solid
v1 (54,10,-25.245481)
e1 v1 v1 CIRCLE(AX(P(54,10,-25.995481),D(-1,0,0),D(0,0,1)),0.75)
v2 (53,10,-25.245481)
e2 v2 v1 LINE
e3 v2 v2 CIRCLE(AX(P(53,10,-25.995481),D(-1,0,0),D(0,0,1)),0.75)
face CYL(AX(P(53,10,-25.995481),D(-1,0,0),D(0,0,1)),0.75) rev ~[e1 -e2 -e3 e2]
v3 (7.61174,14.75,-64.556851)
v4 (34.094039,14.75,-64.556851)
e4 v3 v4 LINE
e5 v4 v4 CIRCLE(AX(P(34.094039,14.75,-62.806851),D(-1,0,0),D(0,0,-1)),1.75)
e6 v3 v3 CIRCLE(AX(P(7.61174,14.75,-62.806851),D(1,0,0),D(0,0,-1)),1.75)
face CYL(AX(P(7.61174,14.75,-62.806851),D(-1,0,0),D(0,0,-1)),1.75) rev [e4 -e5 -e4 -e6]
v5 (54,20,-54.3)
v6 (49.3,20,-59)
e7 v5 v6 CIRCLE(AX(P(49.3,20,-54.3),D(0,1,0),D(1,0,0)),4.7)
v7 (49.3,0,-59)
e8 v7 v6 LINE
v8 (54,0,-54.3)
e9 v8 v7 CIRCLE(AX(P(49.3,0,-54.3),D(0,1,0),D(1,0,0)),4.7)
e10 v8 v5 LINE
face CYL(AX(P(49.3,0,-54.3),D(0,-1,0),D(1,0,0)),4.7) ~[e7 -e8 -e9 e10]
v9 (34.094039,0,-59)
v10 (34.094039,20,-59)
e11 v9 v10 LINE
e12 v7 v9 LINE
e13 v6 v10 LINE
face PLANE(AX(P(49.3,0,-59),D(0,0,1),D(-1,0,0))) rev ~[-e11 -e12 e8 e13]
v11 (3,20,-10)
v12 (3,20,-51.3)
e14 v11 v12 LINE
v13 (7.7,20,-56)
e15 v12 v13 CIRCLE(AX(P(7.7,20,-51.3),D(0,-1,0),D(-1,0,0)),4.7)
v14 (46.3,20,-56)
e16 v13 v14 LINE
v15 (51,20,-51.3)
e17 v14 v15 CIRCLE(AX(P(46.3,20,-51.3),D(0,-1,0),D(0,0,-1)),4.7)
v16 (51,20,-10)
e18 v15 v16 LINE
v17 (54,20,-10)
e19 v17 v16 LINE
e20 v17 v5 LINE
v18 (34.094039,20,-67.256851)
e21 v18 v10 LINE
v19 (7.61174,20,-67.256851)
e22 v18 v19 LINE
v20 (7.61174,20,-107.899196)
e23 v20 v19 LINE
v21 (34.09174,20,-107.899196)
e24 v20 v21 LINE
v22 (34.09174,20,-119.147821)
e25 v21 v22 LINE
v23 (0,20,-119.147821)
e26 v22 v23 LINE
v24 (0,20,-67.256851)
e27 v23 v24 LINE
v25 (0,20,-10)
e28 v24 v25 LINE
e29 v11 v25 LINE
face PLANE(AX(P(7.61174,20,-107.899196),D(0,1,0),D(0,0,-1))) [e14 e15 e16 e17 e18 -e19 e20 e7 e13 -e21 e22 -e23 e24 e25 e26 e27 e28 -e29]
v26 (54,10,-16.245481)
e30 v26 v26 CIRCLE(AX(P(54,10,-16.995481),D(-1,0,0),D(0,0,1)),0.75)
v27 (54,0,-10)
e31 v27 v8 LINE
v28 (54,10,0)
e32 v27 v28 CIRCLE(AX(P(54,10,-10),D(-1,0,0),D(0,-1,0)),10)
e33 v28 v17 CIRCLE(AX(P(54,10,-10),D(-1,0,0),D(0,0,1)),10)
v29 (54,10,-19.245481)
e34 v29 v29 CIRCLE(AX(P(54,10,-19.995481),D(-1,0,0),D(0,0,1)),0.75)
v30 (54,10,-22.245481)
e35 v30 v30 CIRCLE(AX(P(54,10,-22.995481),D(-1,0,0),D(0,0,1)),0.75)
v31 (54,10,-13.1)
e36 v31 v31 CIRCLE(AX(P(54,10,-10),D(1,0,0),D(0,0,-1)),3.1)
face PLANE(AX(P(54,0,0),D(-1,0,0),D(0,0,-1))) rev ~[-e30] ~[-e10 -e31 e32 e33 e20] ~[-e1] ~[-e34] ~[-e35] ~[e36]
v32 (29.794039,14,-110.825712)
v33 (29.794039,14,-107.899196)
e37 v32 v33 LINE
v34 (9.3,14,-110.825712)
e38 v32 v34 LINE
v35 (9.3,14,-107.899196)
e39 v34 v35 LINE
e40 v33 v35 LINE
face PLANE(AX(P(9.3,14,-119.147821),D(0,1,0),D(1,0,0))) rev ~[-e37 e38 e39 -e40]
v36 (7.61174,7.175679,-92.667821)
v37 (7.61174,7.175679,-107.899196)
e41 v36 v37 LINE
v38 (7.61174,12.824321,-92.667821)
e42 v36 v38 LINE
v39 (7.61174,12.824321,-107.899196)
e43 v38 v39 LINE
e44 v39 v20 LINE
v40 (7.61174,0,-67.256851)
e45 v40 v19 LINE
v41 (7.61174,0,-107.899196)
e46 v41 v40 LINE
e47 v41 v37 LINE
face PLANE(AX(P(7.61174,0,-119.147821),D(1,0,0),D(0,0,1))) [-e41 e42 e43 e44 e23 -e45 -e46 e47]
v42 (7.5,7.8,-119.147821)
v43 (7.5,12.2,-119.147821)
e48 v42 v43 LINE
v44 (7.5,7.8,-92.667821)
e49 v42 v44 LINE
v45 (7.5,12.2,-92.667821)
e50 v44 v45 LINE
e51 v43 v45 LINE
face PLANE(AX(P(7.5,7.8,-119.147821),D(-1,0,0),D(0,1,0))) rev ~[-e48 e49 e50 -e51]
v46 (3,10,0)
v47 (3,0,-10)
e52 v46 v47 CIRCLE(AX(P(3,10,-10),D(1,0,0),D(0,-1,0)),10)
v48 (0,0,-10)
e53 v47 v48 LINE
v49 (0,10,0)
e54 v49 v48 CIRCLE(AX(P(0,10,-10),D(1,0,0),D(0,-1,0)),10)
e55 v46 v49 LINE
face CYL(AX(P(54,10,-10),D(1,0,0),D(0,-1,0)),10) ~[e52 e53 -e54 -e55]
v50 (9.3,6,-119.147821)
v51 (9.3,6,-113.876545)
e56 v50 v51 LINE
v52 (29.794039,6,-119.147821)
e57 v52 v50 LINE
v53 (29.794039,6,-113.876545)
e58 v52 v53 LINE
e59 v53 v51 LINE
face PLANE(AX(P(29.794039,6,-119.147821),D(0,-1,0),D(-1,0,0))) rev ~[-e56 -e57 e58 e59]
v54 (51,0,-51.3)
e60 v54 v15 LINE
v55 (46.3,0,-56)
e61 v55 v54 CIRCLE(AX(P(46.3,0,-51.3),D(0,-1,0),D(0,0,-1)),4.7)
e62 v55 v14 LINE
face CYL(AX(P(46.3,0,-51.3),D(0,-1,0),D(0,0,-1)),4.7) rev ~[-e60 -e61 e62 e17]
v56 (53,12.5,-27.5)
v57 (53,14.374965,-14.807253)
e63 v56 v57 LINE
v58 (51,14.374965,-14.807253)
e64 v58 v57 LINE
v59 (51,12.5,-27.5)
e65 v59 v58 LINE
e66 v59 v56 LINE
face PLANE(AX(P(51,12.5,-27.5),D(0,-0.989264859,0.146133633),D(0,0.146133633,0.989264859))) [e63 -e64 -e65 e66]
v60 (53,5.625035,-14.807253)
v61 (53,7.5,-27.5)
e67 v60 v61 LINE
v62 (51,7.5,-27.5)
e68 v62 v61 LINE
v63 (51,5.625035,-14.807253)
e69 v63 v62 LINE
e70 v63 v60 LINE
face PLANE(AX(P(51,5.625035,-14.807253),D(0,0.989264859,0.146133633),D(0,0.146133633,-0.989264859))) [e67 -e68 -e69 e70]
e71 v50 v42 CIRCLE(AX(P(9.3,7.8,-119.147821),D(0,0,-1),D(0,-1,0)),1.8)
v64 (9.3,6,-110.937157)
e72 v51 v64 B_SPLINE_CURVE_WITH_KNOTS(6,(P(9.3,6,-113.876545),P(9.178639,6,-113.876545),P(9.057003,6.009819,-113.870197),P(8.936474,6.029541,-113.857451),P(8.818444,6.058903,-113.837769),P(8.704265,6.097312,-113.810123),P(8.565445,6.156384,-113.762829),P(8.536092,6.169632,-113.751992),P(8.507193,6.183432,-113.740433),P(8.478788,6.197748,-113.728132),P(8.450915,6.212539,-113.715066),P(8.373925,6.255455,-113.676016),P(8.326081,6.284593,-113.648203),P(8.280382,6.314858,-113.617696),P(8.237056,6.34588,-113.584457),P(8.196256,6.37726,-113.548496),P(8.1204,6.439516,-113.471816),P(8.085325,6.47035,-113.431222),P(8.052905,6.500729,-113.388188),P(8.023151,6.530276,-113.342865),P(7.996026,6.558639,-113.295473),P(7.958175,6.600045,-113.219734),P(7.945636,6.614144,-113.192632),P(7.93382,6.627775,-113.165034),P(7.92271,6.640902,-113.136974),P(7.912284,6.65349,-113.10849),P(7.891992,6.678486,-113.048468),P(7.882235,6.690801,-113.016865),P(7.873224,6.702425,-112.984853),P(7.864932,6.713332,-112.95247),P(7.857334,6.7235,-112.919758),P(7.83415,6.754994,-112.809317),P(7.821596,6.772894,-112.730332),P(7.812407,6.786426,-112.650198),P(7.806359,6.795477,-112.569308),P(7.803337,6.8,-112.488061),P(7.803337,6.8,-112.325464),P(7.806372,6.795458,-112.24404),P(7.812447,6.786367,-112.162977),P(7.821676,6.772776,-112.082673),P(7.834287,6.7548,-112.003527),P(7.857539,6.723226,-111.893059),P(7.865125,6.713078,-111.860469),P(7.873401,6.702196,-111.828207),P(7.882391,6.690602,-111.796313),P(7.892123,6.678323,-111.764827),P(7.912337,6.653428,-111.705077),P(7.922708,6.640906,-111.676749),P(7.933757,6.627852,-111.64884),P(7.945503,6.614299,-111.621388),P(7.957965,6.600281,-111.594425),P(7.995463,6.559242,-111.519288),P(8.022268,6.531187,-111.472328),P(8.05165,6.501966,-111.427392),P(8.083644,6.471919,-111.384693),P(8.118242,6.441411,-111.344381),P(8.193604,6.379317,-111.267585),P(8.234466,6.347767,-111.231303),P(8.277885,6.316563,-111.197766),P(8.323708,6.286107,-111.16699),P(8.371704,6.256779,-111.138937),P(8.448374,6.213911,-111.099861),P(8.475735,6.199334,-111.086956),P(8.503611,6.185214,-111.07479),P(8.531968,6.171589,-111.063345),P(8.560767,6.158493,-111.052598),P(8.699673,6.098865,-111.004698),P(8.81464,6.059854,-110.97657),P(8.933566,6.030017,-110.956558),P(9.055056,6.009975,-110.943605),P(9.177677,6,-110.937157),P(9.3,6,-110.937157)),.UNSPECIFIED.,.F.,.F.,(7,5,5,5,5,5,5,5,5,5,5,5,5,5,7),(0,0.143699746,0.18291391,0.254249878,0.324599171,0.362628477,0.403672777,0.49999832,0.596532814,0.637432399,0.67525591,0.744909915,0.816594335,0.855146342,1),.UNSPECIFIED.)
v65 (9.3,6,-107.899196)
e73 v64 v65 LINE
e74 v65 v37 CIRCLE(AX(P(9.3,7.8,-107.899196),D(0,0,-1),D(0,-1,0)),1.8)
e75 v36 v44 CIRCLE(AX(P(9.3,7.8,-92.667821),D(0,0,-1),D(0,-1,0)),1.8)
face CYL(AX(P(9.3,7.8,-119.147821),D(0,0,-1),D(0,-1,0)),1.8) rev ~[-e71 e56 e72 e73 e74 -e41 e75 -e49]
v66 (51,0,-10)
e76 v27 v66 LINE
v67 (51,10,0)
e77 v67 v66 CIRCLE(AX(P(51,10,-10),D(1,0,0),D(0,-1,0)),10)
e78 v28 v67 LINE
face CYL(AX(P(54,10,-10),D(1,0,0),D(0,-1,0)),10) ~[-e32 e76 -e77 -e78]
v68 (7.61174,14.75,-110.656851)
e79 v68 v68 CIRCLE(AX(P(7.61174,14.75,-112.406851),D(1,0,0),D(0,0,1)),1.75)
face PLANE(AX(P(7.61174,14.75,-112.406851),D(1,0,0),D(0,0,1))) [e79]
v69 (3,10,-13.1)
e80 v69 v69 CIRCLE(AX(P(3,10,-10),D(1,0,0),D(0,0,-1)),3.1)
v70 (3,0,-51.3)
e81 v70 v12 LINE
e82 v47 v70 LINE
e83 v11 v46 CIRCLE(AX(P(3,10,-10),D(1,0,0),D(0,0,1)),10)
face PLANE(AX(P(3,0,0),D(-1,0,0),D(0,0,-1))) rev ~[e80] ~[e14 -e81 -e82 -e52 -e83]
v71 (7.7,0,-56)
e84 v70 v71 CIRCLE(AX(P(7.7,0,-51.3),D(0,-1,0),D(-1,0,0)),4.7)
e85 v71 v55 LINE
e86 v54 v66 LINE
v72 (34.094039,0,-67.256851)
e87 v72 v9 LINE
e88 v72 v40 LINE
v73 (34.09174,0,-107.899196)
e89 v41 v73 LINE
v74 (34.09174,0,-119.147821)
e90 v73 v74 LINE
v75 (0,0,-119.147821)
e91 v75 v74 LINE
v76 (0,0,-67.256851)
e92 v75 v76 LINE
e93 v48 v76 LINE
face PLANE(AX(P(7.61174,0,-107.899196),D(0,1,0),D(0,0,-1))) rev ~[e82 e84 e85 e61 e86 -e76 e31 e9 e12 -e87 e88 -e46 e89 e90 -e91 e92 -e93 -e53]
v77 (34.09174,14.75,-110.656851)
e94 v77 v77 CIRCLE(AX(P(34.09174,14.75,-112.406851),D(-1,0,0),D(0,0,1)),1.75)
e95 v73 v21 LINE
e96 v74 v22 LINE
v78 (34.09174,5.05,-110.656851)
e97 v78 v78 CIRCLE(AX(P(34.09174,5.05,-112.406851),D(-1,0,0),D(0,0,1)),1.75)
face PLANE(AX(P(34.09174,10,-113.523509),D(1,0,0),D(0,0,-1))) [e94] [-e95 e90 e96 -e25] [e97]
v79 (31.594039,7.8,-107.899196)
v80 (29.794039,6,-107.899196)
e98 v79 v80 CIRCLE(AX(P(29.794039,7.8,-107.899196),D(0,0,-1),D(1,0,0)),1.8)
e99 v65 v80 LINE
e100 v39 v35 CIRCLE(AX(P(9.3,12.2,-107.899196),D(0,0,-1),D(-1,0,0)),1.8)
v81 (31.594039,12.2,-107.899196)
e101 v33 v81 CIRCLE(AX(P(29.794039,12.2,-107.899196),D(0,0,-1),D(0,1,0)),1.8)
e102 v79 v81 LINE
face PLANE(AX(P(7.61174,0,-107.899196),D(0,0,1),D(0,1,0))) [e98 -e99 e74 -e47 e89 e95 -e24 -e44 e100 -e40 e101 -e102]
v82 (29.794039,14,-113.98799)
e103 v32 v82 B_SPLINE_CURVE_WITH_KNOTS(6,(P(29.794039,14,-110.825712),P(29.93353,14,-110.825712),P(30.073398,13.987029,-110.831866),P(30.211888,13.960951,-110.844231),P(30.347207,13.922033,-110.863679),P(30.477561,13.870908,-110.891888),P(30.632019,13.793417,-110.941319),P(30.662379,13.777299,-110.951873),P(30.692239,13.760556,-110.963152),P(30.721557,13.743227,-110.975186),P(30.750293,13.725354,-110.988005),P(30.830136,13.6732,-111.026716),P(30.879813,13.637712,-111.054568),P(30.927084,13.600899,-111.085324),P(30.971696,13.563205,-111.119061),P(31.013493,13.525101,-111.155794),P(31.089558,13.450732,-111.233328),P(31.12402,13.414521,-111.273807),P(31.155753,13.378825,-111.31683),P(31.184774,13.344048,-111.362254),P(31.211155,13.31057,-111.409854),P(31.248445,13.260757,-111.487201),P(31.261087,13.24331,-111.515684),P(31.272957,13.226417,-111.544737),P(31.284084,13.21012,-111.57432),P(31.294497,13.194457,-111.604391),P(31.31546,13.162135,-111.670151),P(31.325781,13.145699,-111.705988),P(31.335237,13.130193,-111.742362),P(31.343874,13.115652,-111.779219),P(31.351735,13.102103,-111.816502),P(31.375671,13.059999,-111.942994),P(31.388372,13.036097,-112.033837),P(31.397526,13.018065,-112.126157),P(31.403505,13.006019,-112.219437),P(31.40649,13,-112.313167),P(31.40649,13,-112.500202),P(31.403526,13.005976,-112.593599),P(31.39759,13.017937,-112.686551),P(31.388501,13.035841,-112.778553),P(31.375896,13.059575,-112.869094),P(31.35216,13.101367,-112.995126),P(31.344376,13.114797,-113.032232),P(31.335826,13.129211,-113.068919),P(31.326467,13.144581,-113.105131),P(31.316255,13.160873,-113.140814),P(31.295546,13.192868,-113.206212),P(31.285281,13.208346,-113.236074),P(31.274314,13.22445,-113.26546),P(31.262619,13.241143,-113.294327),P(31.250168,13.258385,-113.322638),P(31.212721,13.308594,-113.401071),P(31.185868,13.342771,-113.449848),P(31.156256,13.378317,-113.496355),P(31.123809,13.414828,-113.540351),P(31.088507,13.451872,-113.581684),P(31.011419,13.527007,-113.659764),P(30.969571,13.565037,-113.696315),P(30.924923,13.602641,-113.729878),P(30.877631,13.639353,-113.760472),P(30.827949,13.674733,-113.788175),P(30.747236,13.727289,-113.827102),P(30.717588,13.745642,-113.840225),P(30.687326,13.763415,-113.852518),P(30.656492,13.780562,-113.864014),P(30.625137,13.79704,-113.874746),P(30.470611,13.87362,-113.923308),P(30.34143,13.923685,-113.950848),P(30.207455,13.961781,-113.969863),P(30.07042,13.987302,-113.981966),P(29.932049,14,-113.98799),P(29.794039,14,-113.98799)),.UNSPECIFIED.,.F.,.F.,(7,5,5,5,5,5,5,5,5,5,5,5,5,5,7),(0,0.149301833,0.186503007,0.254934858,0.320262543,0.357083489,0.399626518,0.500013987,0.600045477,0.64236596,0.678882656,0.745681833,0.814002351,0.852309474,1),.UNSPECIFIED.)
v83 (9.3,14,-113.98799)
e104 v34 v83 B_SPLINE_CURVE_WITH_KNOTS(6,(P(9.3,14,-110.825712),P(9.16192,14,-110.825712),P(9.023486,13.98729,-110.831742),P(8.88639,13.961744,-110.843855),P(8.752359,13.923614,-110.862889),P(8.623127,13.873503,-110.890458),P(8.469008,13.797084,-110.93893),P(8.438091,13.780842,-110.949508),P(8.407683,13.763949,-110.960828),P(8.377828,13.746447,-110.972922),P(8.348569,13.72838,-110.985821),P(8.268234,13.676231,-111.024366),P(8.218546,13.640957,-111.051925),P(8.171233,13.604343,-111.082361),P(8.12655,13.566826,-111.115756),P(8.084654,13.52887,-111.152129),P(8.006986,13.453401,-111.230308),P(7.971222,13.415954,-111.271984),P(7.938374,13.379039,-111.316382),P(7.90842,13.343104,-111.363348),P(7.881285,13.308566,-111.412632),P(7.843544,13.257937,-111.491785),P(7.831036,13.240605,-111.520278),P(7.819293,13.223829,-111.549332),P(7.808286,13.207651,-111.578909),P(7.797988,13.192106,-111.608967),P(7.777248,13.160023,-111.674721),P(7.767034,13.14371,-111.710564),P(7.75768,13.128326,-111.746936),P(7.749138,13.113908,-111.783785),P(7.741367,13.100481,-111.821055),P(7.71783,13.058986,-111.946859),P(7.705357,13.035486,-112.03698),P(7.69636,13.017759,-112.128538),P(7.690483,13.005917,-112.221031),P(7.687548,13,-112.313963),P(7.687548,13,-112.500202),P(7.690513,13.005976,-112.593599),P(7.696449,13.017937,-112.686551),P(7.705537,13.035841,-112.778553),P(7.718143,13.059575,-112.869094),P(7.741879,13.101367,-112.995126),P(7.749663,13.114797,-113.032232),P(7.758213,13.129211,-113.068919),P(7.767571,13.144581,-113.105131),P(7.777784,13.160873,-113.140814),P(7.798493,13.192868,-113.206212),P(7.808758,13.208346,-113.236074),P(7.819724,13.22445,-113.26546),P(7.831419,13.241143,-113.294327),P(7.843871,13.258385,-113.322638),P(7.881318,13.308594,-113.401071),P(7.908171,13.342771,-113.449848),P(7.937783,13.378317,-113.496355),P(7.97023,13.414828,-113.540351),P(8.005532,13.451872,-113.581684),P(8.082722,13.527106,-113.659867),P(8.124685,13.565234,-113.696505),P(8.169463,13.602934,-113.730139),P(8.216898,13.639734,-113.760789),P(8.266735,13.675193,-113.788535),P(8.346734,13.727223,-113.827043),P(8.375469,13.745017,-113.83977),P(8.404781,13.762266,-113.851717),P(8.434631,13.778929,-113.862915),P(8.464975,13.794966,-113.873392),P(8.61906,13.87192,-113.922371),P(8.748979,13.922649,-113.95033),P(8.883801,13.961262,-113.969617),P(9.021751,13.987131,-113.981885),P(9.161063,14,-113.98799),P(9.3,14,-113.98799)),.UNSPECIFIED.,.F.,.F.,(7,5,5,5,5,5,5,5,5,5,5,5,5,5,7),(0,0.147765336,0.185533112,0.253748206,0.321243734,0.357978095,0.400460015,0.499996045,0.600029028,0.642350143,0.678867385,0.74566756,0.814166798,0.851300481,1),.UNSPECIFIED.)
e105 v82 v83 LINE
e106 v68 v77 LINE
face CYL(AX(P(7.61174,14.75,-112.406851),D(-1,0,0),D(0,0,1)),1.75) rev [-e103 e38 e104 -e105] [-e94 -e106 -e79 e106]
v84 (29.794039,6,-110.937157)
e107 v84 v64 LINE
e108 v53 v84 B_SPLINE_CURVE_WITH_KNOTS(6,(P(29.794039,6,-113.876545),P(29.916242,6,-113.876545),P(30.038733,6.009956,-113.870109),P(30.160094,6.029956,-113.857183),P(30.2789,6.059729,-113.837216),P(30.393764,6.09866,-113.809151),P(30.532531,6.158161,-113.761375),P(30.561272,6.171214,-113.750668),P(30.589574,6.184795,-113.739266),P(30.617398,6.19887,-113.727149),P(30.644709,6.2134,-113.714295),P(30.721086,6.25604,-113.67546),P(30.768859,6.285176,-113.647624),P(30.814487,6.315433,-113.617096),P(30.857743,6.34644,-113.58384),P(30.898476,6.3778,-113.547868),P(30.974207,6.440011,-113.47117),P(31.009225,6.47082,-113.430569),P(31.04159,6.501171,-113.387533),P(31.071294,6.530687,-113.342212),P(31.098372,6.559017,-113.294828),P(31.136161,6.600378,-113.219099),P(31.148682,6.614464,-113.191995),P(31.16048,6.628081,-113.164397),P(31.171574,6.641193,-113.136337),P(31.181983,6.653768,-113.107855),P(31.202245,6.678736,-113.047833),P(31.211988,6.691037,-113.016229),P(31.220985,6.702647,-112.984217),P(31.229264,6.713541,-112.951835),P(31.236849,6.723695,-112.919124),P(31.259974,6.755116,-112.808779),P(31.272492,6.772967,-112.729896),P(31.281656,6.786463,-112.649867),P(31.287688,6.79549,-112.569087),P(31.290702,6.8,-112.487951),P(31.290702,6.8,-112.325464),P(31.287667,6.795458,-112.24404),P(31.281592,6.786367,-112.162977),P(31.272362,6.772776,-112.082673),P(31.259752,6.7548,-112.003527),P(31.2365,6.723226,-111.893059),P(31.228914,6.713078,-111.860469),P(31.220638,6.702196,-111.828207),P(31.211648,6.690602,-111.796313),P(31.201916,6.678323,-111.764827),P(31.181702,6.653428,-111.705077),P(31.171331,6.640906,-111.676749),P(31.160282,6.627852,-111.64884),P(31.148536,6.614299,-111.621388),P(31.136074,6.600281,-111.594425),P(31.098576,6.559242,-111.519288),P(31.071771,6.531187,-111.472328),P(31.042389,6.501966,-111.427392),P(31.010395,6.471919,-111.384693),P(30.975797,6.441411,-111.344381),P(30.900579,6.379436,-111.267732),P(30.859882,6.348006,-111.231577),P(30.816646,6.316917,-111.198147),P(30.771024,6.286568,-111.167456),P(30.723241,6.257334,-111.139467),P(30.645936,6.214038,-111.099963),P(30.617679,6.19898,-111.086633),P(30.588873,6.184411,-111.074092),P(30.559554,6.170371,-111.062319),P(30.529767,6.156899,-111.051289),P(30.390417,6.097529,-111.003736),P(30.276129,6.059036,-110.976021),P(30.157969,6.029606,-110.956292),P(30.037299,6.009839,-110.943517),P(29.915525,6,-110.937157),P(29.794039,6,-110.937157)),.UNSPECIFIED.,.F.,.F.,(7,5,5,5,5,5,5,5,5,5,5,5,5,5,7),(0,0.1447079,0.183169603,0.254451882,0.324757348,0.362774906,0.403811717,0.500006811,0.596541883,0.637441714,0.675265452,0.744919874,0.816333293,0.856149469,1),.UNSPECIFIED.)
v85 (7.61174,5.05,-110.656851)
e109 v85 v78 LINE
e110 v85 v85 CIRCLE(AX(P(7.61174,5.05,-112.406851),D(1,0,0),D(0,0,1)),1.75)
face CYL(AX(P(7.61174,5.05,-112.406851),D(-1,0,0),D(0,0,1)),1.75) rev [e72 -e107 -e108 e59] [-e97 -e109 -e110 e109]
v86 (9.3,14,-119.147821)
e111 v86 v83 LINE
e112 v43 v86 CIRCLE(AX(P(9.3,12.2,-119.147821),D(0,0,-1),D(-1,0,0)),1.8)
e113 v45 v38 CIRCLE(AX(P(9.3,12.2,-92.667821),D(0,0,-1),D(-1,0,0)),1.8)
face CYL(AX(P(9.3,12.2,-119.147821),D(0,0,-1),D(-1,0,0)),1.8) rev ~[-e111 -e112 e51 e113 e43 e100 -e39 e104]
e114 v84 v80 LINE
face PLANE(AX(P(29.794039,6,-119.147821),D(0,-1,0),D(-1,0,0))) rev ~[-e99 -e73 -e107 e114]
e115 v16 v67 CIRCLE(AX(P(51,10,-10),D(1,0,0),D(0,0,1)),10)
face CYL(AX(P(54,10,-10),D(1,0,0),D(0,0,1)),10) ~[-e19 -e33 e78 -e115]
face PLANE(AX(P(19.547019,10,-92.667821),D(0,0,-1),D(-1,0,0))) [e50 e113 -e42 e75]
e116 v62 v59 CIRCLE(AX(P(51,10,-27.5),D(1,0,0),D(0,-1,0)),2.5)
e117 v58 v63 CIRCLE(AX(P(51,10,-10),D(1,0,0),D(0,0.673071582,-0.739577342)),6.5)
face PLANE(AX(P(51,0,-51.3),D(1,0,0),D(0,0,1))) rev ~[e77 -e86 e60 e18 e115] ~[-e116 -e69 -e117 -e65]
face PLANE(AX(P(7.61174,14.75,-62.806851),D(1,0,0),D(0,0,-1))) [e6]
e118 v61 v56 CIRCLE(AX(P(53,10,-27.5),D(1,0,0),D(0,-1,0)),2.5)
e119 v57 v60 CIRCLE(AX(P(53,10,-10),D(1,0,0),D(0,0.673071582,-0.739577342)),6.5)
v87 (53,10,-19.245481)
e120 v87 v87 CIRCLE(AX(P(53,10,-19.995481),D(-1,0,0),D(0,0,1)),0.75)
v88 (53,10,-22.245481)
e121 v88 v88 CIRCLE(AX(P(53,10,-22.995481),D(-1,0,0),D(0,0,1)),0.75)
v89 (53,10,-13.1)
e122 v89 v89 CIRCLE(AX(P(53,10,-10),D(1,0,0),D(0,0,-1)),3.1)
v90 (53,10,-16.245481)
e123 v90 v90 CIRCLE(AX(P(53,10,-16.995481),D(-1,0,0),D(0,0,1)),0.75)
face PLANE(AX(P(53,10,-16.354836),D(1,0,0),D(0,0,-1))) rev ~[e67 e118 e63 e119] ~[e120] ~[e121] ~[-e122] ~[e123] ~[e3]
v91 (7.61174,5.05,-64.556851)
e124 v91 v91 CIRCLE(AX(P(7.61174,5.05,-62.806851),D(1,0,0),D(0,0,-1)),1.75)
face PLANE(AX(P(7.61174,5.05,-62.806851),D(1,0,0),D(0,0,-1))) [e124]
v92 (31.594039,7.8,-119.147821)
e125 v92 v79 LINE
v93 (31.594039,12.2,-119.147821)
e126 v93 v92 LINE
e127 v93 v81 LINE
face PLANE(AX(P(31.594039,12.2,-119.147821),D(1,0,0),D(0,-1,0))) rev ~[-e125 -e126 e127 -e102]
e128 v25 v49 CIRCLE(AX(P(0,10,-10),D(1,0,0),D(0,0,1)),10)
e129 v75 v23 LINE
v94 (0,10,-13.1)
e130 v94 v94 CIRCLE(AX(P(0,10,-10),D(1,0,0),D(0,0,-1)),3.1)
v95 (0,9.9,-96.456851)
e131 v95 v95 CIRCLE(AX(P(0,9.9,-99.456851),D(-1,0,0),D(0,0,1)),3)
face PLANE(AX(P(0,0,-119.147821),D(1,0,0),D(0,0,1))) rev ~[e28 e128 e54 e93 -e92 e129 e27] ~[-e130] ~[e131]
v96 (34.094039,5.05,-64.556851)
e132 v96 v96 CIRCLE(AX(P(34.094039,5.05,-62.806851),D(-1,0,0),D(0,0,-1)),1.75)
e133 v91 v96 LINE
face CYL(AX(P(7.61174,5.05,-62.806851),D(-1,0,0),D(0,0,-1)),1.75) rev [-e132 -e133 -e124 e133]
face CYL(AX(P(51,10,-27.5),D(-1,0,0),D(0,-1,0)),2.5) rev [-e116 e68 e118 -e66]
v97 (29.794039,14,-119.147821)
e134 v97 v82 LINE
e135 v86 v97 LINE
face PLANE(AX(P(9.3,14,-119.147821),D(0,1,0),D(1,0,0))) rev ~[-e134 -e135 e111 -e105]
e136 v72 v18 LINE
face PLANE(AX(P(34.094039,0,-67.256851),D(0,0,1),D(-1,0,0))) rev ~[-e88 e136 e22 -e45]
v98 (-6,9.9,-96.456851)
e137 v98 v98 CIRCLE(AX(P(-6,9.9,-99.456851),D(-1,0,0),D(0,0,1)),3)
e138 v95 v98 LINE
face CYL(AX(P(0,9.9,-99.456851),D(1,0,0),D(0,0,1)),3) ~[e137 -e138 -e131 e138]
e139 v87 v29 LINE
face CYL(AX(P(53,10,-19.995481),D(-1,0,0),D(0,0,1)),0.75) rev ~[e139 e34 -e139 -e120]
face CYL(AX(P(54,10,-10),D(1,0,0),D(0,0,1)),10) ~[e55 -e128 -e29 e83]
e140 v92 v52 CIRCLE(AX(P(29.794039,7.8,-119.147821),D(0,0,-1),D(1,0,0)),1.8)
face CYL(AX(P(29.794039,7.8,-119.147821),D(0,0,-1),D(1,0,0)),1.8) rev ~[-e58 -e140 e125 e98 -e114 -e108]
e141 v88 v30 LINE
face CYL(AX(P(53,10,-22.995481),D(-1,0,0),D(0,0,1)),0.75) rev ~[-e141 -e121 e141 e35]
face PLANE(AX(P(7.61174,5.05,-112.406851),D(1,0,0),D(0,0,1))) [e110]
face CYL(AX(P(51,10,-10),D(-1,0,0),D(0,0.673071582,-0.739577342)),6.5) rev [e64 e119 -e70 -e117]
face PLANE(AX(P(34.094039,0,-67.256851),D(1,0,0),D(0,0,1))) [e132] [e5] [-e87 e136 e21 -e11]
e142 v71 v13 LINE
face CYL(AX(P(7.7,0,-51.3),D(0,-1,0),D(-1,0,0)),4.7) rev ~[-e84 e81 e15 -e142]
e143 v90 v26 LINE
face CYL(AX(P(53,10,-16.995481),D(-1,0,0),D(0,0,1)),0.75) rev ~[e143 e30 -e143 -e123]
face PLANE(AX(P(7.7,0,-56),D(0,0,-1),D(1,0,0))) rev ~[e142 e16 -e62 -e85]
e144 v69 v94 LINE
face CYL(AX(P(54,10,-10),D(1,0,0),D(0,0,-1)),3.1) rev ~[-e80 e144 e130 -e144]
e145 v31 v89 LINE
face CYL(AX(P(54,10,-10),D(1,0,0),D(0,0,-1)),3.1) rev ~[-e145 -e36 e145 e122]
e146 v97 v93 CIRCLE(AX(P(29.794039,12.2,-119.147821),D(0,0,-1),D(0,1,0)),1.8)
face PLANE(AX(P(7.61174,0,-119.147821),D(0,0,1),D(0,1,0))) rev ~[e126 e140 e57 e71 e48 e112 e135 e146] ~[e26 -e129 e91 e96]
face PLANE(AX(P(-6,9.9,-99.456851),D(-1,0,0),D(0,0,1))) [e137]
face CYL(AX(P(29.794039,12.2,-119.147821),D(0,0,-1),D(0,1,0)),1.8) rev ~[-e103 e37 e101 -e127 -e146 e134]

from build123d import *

# Parameters (mm, degrees)
AUFSATZ_LINEAR_AUSTRAGEN1_DEPTH      = 20
SCHNITT_LINEAR_AUSTRAGEN1_DEPTH      = 79.7
SKIZZE3_R                            = 3.1
SCHNITT_LINEAR_AUSTRAGEN2_DEPTH      = 94.75
SCHNITT_LINEAR_AUSTRAGEN3_DEPTH      = 2
SKIZZE5_R                            = 0.75
SCHNITT_LINEAR_AUSTRAGEN4_DEPTH      = 2
AUFSATZ_LINEAR_AUSTRAGEN2_DEPTH      = 20
SKIZZE7_W                            = 7.611739691
SKIZZE7_H                            = 51.890970688
AUFSATZ_LINEAR_AUSTRAGEN3_DEPTH      = 20
SKIZZE8_W                            = 11.248625368
SKIZZE8_H                            = 20
AUFSATZ_LINEAR_AUSTRAGEN4_DEPTH      = 26.48
SCHNITT_LINEAR_AUSTRAGEN5_DEPTH      = 26.48
SCHNITT_LINEAR_AUSTRAGEN6_DEPTH      = 6
SCHNITT_LINEAR_AUSTRAGEN6_DEPTH_BACK = 26.48
SKIZZE10_R                           = 1.75
SKIZZE11_R                           = 3
AUFSATZ_LINEAR_AUSTRAGEN5_DEPTH      = 6


with BuildPart() as part:
    # Skizze1 → Aufsatz-Linear austragen1 (new body)
    with BuildSketch(Plane(origin=(0, 0, 0), x_dir=(1, 0, 0), z_dir=(0, 1, 0))):
        with BuildLine():
            Line((0, 59), (0, 0))
            Line((0, 0), (3, 0))
            Line((3, 0), (3, 51.3))
            ThreePointArc((3, 51.3), (4.376598128, 54.623401872), (7.7, 56))
            Line((7.7, 56), (46.3, 56))
            ThreePointArc((46.3, 56), (49.623401872, 54.623401872), (51, 51.3))
            Line((51, 51.3), (51, 0))
            Line((51, 0), (54, 0))
            Line((54, 0), (54, 54.3))
            ThreePointArc((54, 54.3), (52.623401872, 57.623401872), (49.3, 59))
            Line((49.3, 59), (0, 59))
        make_face()
    extrude(amount=AUFSATZ_LINEAR_AUSTRAGEN1_DEPTH)

    # Skizze2 → Schnitt-Linear austragen1 (cut)
    with BuildSketch(Plane(origin=(54, 0, 0), x_dir=(0, 0, -1), z_dir=(1, 0, 0))):
        with BuildLine():
            ThreePointArc((0, 10), (2.928932188, 17.071067812), (10, 20))
            Line((10, 20), (0, 20))
            Line((0, 20), (0, 10))
        make_face()
        with BuildLine():
            ThreePointArc((10, 0), (2.928932188, 2.928932188), (0, 10))
            Line((0, 10), (0, 0))
            Line((0, 0), (10, 0))
        make_face()
    extrude(amount=-SCHNITT_LINEAR_AUSTRAGEN1_DEPTH, mode=Mode.SUBTRACT)

    # Skizze3 → Schnitt-Linear austragen2 (cut)
    with BuildSketch(Plane(origin=(54, 0, 0), x_dir=(0, 0, -1), z_dir=(1, 0, 0))):
        with Locations((10, 10)):
            Circle(SKIZZE3_R)
    extrude(amount=-SCHNITT_LINEAR_AUSTRAGEN2_DEPTH, mode=Mode.SUBTRACT)

    # Skizze4 → Schnitt-Linear austragen3 (cut)
    with BuildSketch(Plane.ZY.offset(-51)):
        with BuildLine():
            Line((-27.5, 12.5), (-14.807252725, 14.374965285))
            ThreePointArc((-14.807252725, 14.374965285), (-3.5, 10), (-14.807252725, 5.625034715))
            Line((-14.807252725, 5.625034715), (-27.5, 7.5))
            ThreePointArc((-27.5, 7.5), (-30, 10), (-27.5, 12.5))
        make_face()
    extrude(amount=-SCHNITT_LINEAR_AUSTRAGEN3_DEPTH, mode=Mode.SUBTRACT)

    # Skizze5 → Schnitt-Linear austragen4 (cut)
    with BuildSketch(Plane.ZY.offset(-53)):
        with Locations((-25.995480757, 10)):
            Circle(SKIZZE5_R)
        with Locations((-22.995480757, 10)):
            Circle(SKIZZE5_R)
        with Locations((-19.995480757, 10)):
            Circle(SKIZZE5_R)
        with Locations((-16.995480757, 10)):
            Circle(SKIZZE5_R)
    extrude(amount=-SCHNITT_LINEAR_AUSTRAGEN4_DEPTH, mode=Mode.SUBTRACT)

    # Skizze6 → Aufsatz-Linear austragen2 (add)
    with BuildSketch(Plane.XZ):
        Polygon((34.094038703, -59.256850744), (34.094038703, -67.256850744), (0, -67.256850744), (0, -59.256850744), (0, -57.894447073), (34.094038703, -57.894447073), align=None)
    extrude(amount=-AUFSATZ_LINEAR_AUSTRAGEN2_DEPTH)

    # Skizze7 → Aufsatz-Linear austragen3 (add)
    with BuildSketch(Plane.XZ):
        with Locations((3.805869846, -93.202336088)):
            Rectangle(SKIZZE7_W, SKIZZE7_H)
    extrude(amount=-AUFSATZ_LINEAR_AUSTRAGEN3_DEPTH)

    # Skizze8 → Aufsatz-Linear austragen4 (add)
    with BuildSketch(Plane(origin=(7.611739691, 0, 0), x_dir=(0, 0, -1), z_dir=(1, 0, 0))):
        with Locations((113.523508748, 10)):
            Rectangle(SKIZZE8_W, SKIZZE8_H)
    extrude(amount=AUFSATZ_LINEAR_AUSTRAGEN4_DEPTH)

    # Skizze9 → Schnitt-Linear austragen5 (cut)
    with BuildSketch(Plane(origin=(0, 0, -119.147821432), x_dir=(-1, 0, 0), z_dir=(0, 0, -1))):
        with BuildLine():
            Line((-9.3, 14), (-29.794038703, 14))
            ThreePointArc((-29.794038703, 14), (-31.066830909, 13.472792206), (-31.594038703, 12.2))
            Line((-31.594038703, 12.2), (-31.594038703, 7.8))
            ThreePointArc((-31.594038703, 7.8), (-31.066830909, 6.527207794), (-29.794038703, 6))
            Line((-29.794038703, 6), (-9.3, 6))
            ThreePointArc((-9.3, 6), (-8.027207794, 6.527207794), (-7.5, 7.8))
            Line((-7.5, 7.8), (-7.5, 12.2))
            ThreePointArc((-7.5, 12.2), (-8.027207794, 13.472792206), (-9.3, 14))
        make_face()
    extrude(amount=-SCHNITT_LINEAR_AUSTRAGEN5_DEPTH, mode=Mode.SUBTRACT)

    # Skizze10 → Schnitt-Linear austragen6 (cut, two sides: drawn at the far end of the back side and taken through both)
    with BuildSketch(Plane(origin=(34.091739691, 0, 0), x_dir=(0, 0, -1), z_dir=(1, 0, 0)).offset(-SCHNITT_LINEAR_AUSTRAGEN6_DEPTH_BACK)):
        with Locations((62.806850744, 14.75)):
            Circle(SKIZZE10_R)
        with Locations((62.806850744, 5.05)):
            Circle(SKIZZE10_R)
        with Locations(Location((112.406850744, 5.05, 0), (0, 0, 180))):
            Circle(SKIZZE10_R)
        with Locations(Location((112.406850744, 14.75, 0), (0, 0, 180))):
            Circle(SKIZZE10_R)
    extrude(amount=SCHNITT_LINEAR_AUSTRAGEN6_DEPTH + SCHNITT_LINEAR_AUSTRAGEN6_DEPTH_BACK, mode=Mode.SUBTRACT)

    # Skizze11 → Aufsatz-Linear austragen5 (add)
    with BuildSketch(Plane.ZY):
        with Locations((-99.456850744, 9.9)):
            Circle(SKIZZE11_R)
    extrude(amount=AUFSATZ_LINEAR_AUSTRAGEN5_DEPTH)


solid = part.part
